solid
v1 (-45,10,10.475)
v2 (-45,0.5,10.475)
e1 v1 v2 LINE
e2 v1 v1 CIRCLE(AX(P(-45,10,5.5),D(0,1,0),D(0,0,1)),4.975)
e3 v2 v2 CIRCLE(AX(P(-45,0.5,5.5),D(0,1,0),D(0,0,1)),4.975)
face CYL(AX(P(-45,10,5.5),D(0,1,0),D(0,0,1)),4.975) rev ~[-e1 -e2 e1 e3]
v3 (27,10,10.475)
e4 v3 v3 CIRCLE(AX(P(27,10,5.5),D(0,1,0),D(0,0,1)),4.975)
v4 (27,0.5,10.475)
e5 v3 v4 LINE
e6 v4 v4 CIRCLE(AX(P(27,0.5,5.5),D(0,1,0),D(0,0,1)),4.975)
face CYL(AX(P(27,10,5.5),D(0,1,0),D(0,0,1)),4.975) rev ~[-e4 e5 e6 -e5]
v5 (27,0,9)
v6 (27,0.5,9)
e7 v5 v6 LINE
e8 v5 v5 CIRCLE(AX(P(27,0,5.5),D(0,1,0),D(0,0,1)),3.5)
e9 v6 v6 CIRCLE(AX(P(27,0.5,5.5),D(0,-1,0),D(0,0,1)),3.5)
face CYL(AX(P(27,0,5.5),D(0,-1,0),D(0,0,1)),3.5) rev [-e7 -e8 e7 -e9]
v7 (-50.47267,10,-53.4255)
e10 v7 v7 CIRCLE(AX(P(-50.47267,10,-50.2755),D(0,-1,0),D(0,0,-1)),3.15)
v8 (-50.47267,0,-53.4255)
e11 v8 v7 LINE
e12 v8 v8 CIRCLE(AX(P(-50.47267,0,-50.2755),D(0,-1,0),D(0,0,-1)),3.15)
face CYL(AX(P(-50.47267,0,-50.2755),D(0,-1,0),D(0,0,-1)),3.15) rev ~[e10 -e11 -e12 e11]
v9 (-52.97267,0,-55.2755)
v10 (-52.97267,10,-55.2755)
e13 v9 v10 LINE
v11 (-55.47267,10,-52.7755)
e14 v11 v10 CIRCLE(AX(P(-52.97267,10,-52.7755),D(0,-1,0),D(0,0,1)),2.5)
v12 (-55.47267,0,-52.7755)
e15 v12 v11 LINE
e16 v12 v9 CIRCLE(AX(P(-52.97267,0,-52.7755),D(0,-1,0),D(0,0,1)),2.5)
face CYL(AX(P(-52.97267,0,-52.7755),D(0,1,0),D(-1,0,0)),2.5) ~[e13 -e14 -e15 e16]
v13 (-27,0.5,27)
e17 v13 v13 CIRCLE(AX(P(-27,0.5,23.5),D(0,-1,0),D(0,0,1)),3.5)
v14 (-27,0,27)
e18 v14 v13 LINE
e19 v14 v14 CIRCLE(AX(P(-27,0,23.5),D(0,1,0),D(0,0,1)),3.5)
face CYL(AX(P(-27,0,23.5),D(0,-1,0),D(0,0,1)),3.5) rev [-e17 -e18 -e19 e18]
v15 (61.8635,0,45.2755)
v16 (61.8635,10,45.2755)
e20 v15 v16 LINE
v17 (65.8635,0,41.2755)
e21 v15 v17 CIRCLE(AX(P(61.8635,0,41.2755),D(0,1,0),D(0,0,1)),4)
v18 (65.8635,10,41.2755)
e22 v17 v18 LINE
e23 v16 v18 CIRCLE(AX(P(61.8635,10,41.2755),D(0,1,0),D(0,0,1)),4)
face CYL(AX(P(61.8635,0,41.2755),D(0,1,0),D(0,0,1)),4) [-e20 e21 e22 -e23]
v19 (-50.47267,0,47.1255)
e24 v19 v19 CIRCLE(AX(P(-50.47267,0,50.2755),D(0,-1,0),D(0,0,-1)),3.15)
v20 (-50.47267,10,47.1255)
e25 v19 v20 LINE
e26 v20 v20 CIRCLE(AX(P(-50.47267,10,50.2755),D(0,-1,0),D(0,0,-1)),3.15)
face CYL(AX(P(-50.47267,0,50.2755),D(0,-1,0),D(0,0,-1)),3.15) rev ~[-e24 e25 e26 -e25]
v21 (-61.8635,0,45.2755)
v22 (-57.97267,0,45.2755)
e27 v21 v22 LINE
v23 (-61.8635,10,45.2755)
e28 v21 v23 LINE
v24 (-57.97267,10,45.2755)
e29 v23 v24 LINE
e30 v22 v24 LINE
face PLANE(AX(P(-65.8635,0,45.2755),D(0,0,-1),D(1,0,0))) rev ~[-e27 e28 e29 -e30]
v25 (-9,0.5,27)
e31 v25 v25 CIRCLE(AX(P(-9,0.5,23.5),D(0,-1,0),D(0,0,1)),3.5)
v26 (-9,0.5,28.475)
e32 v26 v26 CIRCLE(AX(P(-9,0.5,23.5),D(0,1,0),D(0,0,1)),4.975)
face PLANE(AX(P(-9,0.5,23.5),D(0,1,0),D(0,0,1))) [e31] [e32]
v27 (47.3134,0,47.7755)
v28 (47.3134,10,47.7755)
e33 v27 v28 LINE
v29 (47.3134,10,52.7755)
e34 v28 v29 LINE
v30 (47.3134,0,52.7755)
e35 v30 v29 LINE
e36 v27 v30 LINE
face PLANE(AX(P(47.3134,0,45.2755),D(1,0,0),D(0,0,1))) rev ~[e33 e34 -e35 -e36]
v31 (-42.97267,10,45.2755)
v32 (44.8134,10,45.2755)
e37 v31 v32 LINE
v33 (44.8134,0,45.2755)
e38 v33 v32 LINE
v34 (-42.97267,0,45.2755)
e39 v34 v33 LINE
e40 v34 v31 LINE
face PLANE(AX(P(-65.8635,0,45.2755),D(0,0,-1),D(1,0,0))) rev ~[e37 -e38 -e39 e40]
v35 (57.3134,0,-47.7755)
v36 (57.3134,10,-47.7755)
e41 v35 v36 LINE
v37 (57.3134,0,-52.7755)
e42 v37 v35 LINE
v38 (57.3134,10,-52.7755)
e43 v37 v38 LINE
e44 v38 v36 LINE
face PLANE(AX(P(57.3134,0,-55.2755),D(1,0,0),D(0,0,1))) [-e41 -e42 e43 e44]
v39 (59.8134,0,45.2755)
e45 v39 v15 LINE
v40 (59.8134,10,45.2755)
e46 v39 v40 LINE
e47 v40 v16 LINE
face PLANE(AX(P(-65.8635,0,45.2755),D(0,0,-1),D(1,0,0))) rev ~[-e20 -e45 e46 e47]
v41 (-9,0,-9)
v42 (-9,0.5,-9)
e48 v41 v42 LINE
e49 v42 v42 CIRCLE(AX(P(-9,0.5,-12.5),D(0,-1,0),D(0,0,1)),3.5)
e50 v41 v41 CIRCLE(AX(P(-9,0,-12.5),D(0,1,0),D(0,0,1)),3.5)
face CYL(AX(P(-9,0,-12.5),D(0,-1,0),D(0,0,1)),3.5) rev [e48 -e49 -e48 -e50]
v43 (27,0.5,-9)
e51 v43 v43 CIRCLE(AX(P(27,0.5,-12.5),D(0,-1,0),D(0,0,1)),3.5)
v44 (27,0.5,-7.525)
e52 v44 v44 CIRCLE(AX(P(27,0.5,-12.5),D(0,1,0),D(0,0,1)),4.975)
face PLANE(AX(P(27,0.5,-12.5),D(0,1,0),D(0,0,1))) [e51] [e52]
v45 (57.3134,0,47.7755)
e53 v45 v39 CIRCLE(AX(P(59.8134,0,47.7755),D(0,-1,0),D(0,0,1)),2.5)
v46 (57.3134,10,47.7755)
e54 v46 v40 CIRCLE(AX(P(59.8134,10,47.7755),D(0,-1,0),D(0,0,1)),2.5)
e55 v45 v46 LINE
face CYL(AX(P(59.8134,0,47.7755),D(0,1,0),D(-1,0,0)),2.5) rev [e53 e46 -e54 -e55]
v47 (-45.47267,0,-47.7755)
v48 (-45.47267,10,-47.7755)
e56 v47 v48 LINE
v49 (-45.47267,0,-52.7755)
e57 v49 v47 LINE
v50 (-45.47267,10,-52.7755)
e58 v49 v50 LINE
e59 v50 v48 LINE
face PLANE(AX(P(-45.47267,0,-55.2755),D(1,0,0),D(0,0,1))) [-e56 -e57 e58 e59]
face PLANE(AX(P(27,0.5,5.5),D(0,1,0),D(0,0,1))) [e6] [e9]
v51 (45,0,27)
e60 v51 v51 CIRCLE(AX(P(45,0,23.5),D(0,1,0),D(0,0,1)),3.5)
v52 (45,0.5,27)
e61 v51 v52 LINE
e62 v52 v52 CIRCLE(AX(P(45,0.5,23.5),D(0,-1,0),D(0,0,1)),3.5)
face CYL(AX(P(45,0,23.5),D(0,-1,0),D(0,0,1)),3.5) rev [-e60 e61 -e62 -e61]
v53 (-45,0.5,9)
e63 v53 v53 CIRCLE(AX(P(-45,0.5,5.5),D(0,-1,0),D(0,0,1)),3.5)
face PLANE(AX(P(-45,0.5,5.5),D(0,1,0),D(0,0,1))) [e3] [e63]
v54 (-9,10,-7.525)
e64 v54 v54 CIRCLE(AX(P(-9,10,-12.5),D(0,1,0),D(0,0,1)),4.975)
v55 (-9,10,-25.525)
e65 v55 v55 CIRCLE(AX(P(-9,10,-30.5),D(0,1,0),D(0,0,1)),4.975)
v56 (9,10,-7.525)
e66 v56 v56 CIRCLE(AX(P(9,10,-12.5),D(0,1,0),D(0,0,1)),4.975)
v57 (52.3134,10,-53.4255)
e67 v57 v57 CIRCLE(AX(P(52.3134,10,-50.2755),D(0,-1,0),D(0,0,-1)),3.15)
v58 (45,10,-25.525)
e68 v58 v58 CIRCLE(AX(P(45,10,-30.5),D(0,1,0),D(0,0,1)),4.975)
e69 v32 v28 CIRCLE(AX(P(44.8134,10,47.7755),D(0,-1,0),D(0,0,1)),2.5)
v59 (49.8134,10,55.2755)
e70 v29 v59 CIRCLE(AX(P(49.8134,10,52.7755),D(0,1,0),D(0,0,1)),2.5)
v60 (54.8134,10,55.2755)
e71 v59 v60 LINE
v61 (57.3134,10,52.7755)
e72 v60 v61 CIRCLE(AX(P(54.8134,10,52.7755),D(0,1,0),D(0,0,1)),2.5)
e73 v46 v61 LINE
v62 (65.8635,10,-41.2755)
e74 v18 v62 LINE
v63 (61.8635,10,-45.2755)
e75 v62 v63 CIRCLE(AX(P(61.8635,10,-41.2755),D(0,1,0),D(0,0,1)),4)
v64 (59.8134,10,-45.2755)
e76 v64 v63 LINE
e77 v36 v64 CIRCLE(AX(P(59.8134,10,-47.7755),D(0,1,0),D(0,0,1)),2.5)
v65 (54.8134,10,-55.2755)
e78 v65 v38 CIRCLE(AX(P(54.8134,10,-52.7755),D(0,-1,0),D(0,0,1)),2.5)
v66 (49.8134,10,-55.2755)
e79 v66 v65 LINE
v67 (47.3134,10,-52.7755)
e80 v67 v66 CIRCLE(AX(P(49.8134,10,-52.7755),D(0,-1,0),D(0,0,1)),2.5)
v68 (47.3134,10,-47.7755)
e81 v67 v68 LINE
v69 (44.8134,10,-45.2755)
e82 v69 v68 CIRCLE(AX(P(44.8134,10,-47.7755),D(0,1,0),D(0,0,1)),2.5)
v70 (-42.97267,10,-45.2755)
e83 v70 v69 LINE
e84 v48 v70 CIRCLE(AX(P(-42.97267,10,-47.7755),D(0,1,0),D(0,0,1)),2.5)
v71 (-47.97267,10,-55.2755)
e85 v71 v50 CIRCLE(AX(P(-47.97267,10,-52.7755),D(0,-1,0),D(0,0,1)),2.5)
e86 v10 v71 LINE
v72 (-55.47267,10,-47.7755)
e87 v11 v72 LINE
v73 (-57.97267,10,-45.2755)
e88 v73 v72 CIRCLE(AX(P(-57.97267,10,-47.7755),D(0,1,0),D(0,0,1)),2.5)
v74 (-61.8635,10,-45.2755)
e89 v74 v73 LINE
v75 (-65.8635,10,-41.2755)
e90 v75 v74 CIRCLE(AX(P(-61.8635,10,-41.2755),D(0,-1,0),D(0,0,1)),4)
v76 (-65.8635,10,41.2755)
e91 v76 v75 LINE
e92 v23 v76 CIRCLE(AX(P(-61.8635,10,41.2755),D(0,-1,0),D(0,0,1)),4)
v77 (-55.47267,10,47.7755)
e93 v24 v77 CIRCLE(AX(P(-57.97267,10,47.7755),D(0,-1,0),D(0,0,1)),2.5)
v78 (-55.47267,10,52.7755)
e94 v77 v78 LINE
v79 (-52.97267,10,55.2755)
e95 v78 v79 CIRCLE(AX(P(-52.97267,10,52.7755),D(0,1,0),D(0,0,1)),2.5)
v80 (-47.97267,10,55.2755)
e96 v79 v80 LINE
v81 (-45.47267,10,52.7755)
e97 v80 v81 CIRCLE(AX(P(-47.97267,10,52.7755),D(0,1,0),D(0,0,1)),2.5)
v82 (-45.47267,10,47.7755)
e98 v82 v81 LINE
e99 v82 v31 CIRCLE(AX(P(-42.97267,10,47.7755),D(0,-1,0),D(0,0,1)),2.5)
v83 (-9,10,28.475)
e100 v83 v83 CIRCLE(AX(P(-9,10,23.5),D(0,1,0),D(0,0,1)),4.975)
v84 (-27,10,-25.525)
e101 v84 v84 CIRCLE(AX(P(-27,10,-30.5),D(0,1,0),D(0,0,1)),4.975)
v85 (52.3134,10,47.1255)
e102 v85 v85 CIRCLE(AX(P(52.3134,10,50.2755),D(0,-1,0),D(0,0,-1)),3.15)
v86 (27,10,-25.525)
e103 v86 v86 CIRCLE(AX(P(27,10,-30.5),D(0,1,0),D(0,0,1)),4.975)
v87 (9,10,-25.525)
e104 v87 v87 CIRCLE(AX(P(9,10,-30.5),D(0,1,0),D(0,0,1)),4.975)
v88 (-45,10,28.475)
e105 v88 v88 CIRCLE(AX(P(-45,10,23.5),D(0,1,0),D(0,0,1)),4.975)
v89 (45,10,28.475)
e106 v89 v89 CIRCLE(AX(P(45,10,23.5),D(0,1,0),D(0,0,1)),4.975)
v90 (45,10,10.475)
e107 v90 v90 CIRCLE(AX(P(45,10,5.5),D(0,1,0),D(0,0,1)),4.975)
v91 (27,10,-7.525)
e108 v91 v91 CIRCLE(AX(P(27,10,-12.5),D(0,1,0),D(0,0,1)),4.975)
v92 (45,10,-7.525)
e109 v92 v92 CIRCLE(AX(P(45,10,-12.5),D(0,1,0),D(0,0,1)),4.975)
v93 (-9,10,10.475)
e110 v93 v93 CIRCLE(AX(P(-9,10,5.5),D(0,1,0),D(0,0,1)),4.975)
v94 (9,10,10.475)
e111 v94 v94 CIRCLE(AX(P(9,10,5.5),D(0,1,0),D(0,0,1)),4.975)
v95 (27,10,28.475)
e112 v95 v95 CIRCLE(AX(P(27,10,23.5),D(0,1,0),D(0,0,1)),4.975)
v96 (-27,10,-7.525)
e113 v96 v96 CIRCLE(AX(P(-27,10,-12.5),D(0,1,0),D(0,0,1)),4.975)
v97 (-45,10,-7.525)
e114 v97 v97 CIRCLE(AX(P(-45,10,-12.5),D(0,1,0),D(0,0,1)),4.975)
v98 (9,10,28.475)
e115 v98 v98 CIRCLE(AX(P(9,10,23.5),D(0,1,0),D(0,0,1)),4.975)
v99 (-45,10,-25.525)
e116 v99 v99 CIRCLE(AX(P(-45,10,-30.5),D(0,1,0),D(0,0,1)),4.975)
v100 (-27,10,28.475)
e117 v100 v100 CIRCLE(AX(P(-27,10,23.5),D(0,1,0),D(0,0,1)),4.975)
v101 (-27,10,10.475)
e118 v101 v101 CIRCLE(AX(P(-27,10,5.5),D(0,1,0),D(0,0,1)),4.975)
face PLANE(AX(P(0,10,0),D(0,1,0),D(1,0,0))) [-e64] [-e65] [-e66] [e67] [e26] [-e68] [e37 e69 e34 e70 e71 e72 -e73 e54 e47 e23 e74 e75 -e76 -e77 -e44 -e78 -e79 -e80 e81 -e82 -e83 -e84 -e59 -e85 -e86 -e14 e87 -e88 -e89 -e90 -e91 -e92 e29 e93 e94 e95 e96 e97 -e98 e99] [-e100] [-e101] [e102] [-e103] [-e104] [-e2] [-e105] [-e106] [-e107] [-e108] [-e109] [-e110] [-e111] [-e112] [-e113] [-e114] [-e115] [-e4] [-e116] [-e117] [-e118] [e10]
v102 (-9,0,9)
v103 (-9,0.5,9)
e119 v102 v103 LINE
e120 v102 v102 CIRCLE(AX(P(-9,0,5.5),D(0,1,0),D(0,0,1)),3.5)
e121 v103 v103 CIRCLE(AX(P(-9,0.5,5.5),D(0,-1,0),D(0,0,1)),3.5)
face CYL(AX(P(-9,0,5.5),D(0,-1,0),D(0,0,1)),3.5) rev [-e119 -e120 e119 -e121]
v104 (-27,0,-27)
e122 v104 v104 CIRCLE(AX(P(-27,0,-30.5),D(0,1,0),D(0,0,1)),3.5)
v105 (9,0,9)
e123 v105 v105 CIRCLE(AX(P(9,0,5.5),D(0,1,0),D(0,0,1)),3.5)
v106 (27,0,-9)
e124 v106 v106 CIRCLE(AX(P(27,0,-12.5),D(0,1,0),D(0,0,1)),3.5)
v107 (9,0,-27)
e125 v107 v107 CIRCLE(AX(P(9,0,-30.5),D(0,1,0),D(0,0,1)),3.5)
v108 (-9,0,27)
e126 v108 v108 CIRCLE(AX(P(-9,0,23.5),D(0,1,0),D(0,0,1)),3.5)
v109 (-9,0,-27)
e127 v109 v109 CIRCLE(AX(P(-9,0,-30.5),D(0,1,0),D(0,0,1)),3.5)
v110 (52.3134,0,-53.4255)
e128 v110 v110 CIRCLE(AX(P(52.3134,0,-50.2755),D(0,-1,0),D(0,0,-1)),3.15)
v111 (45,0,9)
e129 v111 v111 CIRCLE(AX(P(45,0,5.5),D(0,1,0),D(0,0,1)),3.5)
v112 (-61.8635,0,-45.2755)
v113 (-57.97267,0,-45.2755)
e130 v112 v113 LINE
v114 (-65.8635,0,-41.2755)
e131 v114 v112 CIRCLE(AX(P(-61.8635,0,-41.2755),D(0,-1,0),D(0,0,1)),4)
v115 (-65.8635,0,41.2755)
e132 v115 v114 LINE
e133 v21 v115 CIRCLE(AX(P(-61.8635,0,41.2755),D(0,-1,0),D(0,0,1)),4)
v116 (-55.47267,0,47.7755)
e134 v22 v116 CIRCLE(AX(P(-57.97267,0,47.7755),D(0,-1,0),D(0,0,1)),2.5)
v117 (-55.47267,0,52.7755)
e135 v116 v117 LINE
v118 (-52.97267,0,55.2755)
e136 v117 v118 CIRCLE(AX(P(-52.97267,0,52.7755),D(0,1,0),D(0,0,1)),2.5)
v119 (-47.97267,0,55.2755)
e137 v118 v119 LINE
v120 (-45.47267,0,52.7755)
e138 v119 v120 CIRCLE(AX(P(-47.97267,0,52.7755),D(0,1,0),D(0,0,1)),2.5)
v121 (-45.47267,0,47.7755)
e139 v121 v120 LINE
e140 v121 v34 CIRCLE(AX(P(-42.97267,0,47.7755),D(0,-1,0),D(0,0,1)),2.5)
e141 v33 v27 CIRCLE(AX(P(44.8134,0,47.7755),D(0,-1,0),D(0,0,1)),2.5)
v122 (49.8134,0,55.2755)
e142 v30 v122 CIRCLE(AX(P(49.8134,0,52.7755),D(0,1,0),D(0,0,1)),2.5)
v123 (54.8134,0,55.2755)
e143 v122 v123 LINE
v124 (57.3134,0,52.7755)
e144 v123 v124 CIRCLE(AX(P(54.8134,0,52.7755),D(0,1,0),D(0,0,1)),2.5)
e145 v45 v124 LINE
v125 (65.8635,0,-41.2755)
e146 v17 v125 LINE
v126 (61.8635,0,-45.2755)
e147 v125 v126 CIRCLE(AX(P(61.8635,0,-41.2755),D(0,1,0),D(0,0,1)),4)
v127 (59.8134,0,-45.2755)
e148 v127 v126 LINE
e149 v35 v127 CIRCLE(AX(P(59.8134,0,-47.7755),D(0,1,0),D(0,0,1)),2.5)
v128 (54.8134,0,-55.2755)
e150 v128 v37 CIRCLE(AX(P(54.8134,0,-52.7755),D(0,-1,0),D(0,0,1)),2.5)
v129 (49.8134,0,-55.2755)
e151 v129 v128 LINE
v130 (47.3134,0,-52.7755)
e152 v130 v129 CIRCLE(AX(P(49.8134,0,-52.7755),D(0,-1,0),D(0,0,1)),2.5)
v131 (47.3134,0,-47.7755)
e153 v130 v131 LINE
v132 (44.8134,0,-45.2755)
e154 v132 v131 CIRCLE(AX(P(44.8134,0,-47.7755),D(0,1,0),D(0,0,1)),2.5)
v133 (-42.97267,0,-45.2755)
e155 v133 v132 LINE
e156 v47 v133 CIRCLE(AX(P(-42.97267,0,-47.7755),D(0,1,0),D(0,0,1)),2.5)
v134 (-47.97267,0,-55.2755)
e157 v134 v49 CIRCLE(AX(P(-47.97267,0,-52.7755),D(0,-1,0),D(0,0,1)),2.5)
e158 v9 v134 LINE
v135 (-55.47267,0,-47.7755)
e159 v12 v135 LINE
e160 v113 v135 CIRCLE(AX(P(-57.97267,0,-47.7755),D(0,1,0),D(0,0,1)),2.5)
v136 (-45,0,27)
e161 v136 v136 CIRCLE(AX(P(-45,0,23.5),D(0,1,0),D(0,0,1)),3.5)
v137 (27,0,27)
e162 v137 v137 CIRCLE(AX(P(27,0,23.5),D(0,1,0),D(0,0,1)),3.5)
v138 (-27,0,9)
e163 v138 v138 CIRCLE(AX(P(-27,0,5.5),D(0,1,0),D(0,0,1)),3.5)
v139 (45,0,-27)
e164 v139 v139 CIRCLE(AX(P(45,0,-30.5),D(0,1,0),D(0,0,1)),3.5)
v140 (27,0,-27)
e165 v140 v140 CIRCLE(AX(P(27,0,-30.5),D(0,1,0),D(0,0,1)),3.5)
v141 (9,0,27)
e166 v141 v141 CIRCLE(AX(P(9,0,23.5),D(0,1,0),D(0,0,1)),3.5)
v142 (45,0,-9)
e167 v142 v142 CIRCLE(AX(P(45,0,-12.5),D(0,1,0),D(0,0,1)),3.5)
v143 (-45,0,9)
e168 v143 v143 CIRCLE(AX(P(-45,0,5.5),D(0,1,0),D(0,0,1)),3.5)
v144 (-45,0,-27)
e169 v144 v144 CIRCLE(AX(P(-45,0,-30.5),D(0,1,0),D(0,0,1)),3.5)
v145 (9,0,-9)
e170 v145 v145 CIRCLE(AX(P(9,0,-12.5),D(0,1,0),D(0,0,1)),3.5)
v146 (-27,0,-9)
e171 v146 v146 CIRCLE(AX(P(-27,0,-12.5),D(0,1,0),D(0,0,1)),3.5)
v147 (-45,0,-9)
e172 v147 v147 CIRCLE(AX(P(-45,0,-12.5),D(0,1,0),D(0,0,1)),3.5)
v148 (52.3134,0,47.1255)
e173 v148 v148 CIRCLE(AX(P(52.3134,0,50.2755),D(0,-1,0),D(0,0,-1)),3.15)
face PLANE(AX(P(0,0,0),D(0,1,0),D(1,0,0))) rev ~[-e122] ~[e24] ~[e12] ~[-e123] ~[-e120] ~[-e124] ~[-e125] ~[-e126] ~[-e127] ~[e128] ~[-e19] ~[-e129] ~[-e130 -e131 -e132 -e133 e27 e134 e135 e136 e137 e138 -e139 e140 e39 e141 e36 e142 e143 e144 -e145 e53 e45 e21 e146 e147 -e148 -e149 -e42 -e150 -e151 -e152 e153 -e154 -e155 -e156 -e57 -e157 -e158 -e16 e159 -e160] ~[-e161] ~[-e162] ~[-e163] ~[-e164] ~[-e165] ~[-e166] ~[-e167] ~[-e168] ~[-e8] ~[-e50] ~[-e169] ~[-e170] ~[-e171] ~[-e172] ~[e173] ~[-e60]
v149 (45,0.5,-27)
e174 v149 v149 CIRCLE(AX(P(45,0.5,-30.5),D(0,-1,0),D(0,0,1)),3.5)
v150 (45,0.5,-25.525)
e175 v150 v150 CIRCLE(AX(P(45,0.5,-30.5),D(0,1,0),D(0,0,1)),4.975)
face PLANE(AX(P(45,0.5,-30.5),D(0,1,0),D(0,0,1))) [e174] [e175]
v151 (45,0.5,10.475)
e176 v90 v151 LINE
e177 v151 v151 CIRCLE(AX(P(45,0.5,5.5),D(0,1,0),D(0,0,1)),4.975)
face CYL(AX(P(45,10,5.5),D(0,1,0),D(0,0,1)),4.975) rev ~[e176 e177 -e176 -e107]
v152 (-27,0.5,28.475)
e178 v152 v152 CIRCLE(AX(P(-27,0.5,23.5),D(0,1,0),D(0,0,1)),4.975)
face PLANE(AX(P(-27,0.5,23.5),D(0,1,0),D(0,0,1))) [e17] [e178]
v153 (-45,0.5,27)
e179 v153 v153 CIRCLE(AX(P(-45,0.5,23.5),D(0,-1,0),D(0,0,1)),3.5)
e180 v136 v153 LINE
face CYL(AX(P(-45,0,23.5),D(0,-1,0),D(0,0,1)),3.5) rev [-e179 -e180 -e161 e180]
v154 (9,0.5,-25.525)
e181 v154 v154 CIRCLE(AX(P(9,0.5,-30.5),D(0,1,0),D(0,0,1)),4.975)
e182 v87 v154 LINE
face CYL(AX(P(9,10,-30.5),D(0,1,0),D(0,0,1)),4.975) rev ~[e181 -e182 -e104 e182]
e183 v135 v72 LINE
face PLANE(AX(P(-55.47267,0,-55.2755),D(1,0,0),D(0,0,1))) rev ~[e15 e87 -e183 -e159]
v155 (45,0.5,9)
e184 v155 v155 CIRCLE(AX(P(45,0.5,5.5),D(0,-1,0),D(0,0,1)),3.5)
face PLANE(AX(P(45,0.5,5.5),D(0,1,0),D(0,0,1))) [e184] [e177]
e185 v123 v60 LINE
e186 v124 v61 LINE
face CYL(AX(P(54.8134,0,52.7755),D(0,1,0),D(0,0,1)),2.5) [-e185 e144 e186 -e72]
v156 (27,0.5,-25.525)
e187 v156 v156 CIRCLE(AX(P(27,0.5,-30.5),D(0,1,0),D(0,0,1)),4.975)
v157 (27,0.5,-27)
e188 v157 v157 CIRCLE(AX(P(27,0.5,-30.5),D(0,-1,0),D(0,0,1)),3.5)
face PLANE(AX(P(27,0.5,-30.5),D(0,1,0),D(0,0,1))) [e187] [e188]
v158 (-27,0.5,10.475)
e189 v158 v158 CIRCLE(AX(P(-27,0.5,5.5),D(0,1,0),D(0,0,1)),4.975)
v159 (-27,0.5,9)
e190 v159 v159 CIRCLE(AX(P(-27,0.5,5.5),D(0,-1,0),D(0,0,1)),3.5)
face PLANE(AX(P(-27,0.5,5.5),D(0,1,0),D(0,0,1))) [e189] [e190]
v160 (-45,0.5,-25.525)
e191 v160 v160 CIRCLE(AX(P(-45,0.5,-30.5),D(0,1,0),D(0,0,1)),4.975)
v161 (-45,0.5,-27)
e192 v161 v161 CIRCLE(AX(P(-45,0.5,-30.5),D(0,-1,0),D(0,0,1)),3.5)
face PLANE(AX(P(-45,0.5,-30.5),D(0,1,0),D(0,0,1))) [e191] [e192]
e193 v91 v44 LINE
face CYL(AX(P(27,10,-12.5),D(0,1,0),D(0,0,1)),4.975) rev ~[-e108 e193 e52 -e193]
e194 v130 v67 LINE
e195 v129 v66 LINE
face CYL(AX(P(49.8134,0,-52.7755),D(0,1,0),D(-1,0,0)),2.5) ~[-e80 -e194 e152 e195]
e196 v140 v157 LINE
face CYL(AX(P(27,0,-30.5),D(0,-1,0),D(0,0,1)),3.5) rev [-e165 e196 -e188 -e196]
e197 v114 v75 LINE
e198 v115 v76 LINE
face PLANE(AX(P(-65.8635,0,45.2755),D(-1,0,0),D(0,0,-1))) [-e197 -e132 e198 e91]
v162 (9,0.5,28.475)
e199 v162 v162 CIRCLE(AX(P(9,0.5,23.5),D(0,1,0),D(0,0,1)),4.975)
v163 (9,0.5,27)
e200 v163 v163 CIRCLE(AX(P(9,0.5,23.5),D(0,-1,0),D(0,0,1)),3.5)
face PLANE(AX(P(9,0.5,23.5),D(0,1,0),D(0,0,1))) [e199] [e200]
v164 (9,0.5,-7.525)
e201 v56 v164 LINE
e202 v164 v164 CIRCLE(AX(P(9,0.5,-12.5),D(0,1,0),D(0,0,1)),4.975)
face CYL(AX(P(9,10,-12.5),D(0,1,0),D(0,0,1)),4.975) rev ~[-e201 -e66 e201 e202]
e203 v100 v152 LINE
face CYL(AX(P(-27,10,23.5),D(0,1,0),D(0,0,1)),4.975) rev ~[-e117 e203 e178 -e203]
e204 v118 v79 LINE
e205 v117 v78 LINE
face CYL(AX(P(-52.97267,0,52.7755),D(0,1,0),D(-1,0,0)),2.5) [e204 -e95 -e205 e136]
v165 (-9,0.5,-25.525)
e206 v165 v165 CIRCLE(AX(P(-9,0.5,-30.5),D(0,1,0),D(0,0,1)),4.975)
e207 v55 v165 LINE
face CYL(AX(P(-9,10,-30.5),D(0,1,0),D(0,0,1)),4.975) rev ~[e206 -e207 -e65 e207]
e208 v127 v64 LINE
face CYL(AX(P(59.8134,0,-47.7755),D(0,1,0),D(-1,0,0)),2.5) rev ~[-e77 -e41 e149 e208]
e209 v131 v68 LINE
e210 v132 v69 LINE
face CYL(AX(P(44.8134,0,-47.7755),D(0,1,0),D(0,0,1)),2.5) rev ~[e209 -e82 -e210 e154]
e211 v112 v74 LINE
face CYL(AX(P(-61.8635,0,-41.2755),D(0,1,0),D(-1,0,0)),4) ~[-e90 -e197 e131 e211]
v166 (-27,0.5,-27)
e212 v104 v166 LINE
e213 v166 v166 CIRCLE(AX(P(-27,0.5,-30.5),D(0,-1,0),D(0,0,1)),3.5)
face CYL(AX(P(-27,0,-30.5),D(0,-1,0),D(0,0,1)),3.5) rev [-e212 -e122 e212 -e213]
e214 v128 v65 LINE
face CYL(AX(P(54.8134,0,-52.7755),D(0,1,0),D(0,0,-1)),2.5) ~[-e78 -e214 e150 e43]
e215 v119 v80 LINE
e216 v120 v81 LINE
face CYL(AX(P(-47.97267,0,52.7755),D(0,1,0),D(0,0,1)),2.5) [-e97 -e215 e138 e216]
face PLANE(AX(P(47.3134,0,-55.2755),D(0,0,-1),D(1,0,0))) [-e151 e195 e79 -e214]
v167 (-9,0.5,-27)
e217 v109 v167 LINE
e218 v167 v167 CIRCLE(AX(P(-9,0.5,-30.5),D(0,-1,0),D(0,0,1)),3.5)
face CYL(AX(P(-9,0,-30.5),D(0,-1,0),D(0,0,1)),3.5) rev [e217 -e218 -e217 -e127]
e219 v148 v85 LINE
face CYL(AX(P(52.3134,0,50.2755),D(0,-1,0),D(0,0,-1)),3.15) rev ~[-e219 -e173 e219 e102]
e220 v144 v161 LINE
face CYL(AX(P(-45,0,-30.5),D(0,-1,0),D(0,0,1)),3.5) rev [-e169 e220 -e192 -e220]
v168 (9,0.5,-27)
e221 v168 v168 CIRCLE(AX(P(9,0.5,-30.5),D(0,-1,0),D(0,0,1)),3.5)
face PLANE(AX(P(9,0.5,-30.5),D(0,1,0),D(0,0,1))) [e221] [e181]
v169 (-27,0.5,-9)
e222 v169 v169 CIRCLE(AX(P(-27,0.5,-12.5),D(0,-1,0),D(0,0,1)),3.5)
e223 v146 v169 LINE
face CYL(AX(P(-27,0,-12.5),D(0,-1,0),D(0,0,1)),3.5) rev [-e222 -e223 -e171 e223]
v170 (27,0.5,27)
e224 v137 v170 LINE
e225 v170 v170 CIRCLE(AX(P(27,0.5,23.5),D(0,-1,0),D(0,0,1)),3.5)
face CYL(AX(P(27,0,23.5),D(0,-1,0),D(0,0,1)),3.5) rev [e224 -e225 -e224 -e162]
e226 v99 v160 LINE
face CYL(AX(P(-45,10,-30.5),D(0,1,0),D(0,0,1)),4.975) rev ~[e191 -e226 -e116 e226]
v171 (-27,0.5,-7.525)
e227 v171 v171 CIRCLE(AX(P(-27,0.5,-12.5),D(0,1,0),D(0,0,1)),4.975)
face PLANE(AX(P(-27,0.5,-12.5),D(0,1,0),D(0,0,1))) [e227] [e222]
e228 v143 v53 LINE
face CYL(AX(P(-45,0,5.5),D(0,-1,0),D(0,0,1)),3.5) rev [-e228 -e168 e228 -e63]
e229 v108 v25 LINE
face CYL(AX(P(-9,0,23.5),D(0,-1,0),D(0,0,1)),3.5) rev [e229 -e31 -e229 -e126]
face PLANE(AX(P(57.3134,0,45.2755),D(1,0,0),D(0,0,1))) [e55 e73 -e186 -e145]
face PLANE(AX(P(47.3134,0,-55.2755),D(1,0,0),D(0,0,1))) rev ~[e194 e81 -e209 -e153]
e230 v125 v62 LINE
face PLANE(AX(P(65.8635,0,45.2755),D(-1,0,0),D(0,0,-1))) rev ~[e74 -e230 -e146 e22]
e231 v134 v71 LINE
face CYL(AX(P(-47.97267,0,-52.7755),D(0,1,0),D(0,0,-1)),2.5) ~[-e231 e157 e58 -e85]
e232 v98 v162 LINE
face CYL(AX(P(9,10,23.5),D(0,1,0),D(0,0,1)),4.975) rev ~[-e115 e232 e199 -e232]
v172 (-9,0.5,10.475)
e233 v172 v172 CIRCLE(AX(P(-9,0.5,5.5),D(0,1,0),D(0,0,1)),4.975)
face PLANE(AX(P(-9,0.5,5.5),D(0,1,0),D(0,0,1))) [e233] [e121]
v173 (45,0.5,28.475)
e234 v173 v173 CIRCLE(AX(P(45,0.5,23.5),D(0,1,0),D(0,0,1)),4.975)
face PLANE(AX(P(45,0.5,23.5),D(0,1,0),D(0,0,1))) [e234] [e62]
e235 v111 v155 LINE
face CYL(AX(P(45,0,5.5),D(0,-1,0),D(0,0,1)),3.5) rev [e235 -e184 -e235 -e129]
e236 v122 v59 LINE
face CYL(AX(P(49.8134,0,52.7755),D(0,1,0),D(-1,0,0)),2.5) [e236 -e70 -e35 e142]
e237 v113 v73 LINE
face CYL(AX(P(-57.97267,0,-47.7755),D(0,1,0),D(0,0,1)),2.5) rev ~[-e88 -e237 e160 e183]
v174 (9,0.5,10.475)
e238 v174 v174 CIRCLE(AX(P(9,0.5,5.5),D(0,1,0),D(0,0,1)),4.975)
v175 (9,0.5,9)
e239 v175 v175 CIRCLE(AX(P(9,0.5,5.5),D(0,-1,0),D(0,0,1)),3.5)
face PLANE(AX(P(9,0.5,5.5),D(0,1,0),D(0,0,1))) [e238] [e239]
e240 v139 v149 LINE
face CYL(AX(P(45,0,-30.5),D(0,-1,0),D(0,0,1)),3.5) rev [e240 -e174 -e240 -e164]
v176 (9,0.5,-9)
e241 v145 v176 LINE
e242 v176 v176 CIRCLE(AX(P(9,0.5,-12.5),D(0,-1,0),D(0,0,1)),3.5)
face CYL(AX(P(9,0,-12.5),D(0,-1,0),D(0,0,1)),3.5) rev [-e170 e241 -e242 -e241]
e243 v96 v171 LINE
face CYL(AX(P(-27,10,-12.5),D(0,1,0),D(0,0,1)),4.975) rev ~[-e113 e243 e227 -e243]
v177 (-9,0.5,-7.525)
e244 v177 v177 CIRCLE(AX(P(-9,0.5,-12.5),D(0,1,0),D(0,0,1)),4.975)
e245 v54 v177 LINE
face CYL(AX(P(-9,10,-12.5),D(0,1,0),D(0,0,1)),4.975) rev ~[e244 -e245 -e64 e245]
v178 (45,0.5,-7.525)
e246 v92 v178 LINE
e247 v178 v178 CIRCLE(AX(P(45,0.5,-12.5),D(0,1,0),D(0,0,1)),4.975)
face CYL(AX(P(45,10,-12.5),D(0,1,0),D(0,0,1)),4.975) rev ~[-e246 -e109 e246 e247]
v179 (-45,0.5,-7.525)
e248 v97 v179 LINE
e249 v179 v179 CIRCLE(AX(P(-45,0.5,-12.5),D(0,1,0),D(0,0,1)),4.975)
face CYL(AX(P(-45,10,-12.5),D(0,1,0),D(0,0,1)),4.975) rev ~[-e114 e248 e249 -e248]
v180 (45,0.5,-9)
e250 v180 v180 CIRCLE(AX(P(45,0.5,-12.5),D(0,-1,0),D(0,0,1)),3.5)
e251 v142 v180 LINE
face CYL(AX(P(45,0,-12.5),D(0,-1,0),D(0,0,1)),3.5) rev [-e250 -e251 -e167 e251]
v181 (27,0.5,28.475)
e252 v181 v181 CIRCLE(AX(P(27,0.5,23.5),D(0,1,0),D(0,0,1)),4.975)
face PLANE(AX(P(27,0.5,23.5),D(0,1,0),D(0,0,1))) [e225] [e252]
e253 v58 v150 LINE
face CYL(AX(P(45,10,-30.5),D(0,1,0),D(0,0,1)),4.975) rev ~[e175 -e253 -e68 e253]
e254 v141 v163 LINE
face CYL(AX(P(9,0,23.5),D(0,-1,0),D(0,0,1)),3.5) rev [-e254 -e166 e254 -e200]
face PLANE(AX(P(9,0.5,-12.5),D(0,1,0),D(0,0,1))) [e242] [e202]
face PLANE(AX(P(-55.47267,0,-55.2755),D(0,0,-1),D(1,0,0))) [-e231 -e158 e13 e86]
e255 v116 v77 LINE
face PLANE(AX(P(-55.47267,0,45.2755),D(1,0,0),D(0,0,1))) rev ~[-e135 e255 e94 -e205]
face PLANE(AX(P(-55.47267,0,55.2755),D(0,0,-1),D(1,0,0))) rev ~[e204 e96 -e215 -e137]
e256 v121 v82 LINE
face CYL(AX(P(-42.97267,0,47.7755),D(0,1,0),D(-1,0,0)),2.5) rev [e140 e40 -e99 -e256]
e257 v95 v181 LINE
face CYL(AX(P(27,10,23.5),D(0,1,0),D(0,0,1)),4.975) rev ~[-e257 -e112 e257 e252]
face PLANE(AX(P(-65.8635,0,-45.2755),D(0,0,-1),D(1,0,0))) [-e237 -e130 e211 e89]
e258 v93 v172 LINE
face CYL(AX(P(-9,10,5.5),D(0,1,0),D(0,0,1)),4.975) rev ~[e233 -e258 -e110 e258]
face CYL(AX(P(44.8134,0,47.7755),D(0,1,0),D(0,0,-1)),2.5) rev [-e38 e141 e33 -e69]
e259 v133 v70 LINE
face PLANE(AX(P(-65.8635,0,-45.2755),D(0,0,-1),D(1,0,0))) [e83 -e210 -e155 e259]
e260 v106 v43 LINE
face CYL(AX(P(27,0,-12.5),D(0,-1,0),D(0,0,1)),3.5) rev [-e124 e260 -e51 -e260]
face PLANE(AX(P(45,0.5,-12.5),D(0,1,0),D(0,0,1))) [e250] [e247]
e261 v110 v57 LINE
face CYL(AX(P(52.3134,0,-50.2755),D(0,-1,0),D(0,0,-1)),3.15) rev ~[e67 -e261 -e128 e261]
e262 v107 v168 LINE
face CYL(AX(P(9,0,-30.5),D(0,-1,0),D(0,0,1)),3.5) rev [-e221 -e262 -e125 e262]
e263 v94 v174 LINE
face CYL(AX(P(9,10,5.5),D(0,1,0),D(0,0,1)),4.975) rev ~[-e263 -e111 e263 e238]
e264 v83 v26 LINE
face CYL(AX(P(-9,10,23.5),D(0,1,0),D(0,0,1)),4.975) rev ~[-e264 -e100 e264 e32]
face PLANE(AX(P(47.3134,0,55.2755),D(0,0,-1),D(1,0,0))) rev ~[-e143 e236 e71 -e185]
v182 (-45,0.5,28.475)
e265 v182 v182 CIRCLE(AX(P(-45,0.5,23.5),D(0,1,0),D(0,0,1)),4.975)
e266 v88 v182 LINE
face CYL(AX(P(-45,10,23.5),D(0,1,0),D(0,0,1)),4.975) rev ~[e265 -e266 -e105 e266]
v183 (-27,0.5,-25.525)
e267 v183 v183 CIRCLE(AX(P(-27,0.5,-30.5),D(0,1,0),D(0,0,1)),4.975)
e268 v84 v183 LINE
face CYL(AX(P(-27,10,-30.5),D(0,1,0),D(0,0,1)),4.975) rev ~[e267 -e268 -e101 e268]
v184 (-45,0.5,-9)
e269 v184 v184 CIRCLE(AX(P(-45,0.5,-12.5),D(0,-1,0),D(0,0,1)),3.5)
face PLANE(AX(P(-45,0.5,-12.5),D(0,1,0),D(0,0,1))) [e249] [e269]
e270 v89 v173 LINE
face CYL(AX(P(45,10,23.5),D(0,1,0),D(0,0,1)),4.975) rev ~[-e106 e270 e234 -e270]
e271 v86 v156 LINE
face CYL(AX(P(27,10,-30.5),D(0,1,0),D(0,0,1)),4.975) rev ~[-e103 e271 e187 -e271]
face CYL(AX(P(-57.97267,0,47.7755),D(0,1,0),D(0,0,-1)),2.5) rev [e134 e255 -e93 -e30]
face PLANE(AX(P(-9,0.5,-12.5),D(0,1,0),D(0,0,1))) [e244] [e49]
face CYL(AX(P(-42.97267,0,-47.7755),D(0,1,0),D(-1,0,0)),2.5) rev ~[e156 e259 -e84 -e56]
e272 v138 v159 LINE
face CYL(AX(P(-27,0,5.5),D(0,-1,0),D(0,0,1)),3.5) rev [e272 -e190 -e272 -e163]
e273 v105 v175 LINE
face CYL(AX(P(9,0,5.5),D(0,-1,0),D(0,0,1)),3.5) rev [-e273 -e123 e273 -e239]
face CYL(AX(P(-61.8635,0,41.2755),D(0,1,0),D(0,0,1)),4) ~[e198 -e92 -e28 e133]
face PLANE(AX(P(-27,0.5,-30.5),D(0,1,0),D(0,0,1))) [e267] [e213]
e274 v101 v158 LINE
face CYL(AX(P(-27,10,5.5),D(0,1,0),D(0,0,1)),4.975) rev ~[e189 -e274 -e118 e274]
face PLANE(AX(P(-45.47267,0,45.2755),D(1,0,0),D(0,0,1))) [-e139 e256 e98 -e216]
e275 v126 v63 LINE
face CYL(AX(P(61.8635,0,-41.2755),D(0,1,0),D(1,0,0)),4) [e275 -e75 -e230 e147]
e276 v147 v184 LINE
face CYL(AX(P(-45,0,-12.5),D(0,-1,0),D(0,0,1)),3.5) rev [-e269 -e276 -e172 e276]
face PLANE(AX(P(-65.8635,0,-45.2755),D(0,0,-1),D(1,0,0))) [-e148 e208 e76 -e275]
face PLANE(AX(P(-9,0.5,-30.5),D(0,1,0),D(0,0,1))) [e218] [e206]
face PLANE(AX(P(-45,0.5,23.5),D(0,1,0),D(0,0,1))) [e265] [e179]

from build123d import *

# Parameters (mm, degrees)
SKETCH1_W           = 131.727
SKETCH1_H           = 90.551
SKETCH1_R           = 3.5
BOSS_EXTRUDE1_DEPTH = 10
SKETCH3_W           = 10
SKETCH3_H           = 10
BOSS_EXTRUDE3_DEPTH = 10
SKETCH4_R           = 3.15
CUT_EXTRUDE2_DEPTH  = 87.564320205
FILLET2_R           = 2.5
FILLET3_R           = 4
SKETCH5_R           = 4.975
CUT_EXTRUDE3_DEPTH  = 9.5


with BuildPart() as part:
    # Sketch1 → Boss-Extrude1 (new body)
    with BuildSketch(Plane(origin=(0, 0, 0), x_dir=(1, 0, 0), z_dir=(0, 1, 0))):
        Rectangle(SKETCH1_W, SKETCH1_H)
        with Locations(Location((-45, 30.5, 0), (0, 0, 270))):
            Circle(SKETCH1_R, mode=Mode.SUBTRACT)
        with Locations(Location((-27, 30.5, 0), (0, 0, 270))):
            Circle(SKETCH1_R, mode=Mode.SUBTRACT)
        with Locations(Location((-9, 30.5, 0), (0, 0, 270))):
            Circle(SKETCH1_R, mode=Mode.SUBTRACT)
        with Locations(Location((9, 30.5, 0), (0, 0, 270))):
            Circle(SKETCH1_R, mode=Mode.SUBTRACT)
        with Locations(Location((27, 30.5, 0), (0, 0, 270))):
            Circle(SKETCH1_R, mode=Mode.SUBTRACT)
        with Locations(Location((45, 30.5, 0), (0, 0, 270))):
            Circle(SKETCH1_R, mode=Mode.SUBTRACT)
        with Locations(Location((-27, 12.5, 0), (0, 0, 270))):
            Circle(SKETCH1_R, mode=Mode.SUBTRACT)
        with Locations(Location((-9, 12.5, 0), (0, 0, 270))):
            Circle(SKETCH1_R, mode=Mode.SUBTRACT)
        with Locations(Location((9, 12.5, 0), (0, 0, 270))):
            Circle(SKETCH1_R, mode=Mode.SUBTRACT)
        with Locations(Location((27, 12.5, 0), (0, 0, 270))):
            Circle(SKETCH1_R, mode=Mode.SUBTRACT)
        with Locations(Location((45, 12.5, 0), (0, 0, 270))):
            Circle(SKETCH1_R, mode=Mode.SUBTRACT)
        with Locations(Location((-27, -5.5, 0), (0, 0, 270))):
            Circle(SKETCH1_R, mode=Mode.SUBTRACT)
        with Locations(Location((-9, -5.5, 0), (0, 0, 270))):
            Circle(SKETCH1_R, mode=Mode.SUBTRACT)
        with Locations(Location((9, -5.5, 0), (0, 0, 270))):
            Circle(SKETCH1_R, mode=Mode.SUBTRACT)
        with Locations(Location((27, -5.5, 0), (0, 0, 270))):
            Circle(SKETCH1_R, mode=Mode.SUBTRACT)
        with Locations(Location((45, -5.5, 0), (0, 0, 270))):
            Circle(SKETCH1_R, mode=Mode.SUBTRACT)
        with Locations(Location((-27, -23.5, 0), (0, 0, 270))):
            Circle(SKETCH1_R, mode=Mode.SUBTRACT)
        with Locations(Location((-9, -23.5, 0), (0, 0, 270))):
            Circle(SKETCH1_R, mode=Mode.SUBTRACT)
        with Locations(Location((9, -23.5, 0), (0, 0, 270))):
            Circle(SKETCH1_R, mode=Mode.SUBTRACT)
        with Locations(Location((27, -23.5, 0), (0, 0, 270))):
            Circle(SKETCH1_R, mode=Mode.SUBTRACT)
        with Locations(Location((45, -23.5, 0), (0, 0, 270))):
            Circle(SKETCH1_R, mode=Mode.SUBTRACT)
        with Locations(Location((-45, 12.5, 0), (0, 0, 270))):
            Circle(SKETCH1_R, mode=Mode.SUBTRACT)
        with Locations(Location((-45, -5.5, 0), (0, 0, 270))):
            Circle(SKETCH1_R, mode=Mode.SUBTRACT)
        with Locations(Location((-45, -23.5, 0), (0, 0, 270))):
            Circle(SKETCH1_R, mode=Mode.SUBTRACT)
    extrude(amount=BOSS_EXTRUDE1_DEPTH)

    # Sketch3 → Boss-Extrude3 (add)
    with BuildSketch(Plane.XZ):
        with Locations((52.3134, -50.2755)):
            Rectangle(SKETCH3_W, SKETCH3_H)
        with Locations((-50.47267, -50.2755)):
            Rectangle(SKETCH3_W, SKETCH3_H)
        with Locations((-50.47267, 50.2755)):
            Rectangle(SKETCH3_W, SKETCH3_H)
        with Locations((52.3134, 50.2755)):
            Rectangle(SKETCH3_W, SKETCH3_H)
    extrude(amount=-BOSS_EXTRUDE3_DEPTH)

    # Sketch4 → Cut-Extrude2 (cut, through all)
    with BuildSketch(Plane(origin=(0, 0, 0), x_dir=(-1, 0, 0), z_dir=(0, -1, 0))):
        with Locations(Location((-52.3134, -50.2755, 0), (0, 0, 90))):
            Circle(SKETCH4_R)
        with Locations(Location((50.47267, -50.2755, 0), (0, 0, 90))):
            Circle(SKETCH4_R)
        with Locations(Location((50.47267, 50.2755, 0), (0, 0, 90))):
            Circle(SKETCH4_R)
        with Locations(Location((-52.3134, 50.2755, 0), (0, 0, 90))):
            Circle(SKETCH4_R)
    extrude(amount=-CUT_EXTRUDE2_DEPTH, mode=Mode.SUBTRACT)

    # Fillet2
    fillet2_edges = [part.edges().sort_by_distance(p)[0] for p in [
        (47.3134, 5, 55.2755),
        (47.3134, 5, 45.2755),
        (57.3134, 5, 55.2755),
        (57.3134, 5, 45.2755),
        (-45.47267, 5, 55.2755),
        (-45.47267, 5, 45.2755),
        (-55.47267, 5, 55.2755),
        (-55.47267, 5, 45.2755),
        (-45.47267, 5, -45.2755),
        (-45.47267, 5, -55.2755),
        (-55.47267, 5, -45.2755),
        (-55.47267, 5, -55.2755),
        (47.3134, 5, -45.2755),
        (47.3134, 5, -55.2755),
        (57.3134, 5, -45.2755),
        (57.3134, 5, -55.2755),
    ]]
    fillet(fillet2_edges, radius=FILLET2_R)

    # Fillet3
    fillet3_edges = [part.edges().sort_by_distance(p)[0] for p in [
        (-65.8635, 5, -45.2755),
        (-65.8635, 5, 45.2755),
        (65.8635, 5, 45.2755),
        (65.8635, 5, -45.2755),
    ]]
    fillet(fillet3_edges, radius=FILLET3_R)

    # Sketch5 → Cut-Extrude3 (cut)
    with BuildSketch(Plane(origin=(0, 10, 0), x_dir=(1, 0, 0), z_dir=(0, 1, 0))):
        with Locations(Location((45, -23.5, 0), (0, 0, 270))):
            Circle(SKETCH5_R)
        with Locations(Location((27, -23.5, 0), (0, 0, 270))):
            Circle(SKETCH5_R)
        with Locations(Location((9, -23.5, 0), (0, 0, 270))):
            Circle(SKETCH5_R)
        with Locations(Location((-9, -23.5, 0), (0, 0, 270))):
            Circle(SKETCH5_R)
        with Locations(Location((-27, -23.5, 0), (0, 0, 270))):
            Circle(SKETCH5_R)
        with Locations(Location((-45, -23.5, 0), (0, 0, 270))):
            Circle(SKETCH5_R)
        with Locations(Location((45, -5.5, 0), (0, 0, 270))):
            Circle(SKETCH5_R)
        with Locations(Location((27, -5.5, 0), (0, 0, 270))):
            Circle(SKETCH5_R)
        with Locations(Location((9, -5.5, 0), (0, 0, 270))):
            Circle(SKETCH5_R)
        with Locations(Location((-9, -5.5, 0), (0, 0, 270))):
            Circle(SKETCH5_R)
        with Locations(Location((-27, -5.5, 0), (0, 0, 270))):
            Circle(SKETCH5_R)
        with Locations(Location((-45, -5.5, 0), (0, 0, 270))):
            Circle(SKETCH5_R)
        with Locations(Location((45, 12.5, 0), (0, 0, 270))):
            Circle(SKETCH5_R)
        with Locations(Location((27, 12.5, 0), (0, 0, 270))):
            Circle(SKETCH5_R)
        with Locations(Location((9, 12.5, 0), (0, 0, 270))):
            Circle(SKETCH5_R)
        with Locations(Location((-9, 12.5, 0), (0, 0, 270))):
            Circle(SKETCH5_R)
        with Locations(Location((-27, 12.5, 0), (0, 0, 270))):
            Circle(SKETCH5_R)
        with Locations(Location((-45, 12.5, 0), (0, 0, 270))):
            Circle(SKETCH5_R)
        with Locations(Location((45, 30.5, 0), (0, 0, 270))):
            Circle(SKETCH5_R)
        with Locations(Location((27, 30.5, 0), (0, 0, 270))):
            Circle(SKETCH5_R)
        with Locations(Location((9, 30.5, 0), (0, 0, 270))):
            Circle(SKETCH5_R)
        with Locations(Location((-9, 30.5, 0), (0, 0, 270))):
            Circle(SKETCH5_R)
        with Locations(Location((-27, 30.5, 0), (0, 0, 270))):
            Circle(SKETCH5_R)
        with Locations(Location((-45, 30.5, 0), (0, 0, 270))):
            Circle(SKETCH5_R)
    extrude(amount=-CUT_EXTRUDE3_DEPTH, mode=Mode.SUBTRACT)


solid = part.part
